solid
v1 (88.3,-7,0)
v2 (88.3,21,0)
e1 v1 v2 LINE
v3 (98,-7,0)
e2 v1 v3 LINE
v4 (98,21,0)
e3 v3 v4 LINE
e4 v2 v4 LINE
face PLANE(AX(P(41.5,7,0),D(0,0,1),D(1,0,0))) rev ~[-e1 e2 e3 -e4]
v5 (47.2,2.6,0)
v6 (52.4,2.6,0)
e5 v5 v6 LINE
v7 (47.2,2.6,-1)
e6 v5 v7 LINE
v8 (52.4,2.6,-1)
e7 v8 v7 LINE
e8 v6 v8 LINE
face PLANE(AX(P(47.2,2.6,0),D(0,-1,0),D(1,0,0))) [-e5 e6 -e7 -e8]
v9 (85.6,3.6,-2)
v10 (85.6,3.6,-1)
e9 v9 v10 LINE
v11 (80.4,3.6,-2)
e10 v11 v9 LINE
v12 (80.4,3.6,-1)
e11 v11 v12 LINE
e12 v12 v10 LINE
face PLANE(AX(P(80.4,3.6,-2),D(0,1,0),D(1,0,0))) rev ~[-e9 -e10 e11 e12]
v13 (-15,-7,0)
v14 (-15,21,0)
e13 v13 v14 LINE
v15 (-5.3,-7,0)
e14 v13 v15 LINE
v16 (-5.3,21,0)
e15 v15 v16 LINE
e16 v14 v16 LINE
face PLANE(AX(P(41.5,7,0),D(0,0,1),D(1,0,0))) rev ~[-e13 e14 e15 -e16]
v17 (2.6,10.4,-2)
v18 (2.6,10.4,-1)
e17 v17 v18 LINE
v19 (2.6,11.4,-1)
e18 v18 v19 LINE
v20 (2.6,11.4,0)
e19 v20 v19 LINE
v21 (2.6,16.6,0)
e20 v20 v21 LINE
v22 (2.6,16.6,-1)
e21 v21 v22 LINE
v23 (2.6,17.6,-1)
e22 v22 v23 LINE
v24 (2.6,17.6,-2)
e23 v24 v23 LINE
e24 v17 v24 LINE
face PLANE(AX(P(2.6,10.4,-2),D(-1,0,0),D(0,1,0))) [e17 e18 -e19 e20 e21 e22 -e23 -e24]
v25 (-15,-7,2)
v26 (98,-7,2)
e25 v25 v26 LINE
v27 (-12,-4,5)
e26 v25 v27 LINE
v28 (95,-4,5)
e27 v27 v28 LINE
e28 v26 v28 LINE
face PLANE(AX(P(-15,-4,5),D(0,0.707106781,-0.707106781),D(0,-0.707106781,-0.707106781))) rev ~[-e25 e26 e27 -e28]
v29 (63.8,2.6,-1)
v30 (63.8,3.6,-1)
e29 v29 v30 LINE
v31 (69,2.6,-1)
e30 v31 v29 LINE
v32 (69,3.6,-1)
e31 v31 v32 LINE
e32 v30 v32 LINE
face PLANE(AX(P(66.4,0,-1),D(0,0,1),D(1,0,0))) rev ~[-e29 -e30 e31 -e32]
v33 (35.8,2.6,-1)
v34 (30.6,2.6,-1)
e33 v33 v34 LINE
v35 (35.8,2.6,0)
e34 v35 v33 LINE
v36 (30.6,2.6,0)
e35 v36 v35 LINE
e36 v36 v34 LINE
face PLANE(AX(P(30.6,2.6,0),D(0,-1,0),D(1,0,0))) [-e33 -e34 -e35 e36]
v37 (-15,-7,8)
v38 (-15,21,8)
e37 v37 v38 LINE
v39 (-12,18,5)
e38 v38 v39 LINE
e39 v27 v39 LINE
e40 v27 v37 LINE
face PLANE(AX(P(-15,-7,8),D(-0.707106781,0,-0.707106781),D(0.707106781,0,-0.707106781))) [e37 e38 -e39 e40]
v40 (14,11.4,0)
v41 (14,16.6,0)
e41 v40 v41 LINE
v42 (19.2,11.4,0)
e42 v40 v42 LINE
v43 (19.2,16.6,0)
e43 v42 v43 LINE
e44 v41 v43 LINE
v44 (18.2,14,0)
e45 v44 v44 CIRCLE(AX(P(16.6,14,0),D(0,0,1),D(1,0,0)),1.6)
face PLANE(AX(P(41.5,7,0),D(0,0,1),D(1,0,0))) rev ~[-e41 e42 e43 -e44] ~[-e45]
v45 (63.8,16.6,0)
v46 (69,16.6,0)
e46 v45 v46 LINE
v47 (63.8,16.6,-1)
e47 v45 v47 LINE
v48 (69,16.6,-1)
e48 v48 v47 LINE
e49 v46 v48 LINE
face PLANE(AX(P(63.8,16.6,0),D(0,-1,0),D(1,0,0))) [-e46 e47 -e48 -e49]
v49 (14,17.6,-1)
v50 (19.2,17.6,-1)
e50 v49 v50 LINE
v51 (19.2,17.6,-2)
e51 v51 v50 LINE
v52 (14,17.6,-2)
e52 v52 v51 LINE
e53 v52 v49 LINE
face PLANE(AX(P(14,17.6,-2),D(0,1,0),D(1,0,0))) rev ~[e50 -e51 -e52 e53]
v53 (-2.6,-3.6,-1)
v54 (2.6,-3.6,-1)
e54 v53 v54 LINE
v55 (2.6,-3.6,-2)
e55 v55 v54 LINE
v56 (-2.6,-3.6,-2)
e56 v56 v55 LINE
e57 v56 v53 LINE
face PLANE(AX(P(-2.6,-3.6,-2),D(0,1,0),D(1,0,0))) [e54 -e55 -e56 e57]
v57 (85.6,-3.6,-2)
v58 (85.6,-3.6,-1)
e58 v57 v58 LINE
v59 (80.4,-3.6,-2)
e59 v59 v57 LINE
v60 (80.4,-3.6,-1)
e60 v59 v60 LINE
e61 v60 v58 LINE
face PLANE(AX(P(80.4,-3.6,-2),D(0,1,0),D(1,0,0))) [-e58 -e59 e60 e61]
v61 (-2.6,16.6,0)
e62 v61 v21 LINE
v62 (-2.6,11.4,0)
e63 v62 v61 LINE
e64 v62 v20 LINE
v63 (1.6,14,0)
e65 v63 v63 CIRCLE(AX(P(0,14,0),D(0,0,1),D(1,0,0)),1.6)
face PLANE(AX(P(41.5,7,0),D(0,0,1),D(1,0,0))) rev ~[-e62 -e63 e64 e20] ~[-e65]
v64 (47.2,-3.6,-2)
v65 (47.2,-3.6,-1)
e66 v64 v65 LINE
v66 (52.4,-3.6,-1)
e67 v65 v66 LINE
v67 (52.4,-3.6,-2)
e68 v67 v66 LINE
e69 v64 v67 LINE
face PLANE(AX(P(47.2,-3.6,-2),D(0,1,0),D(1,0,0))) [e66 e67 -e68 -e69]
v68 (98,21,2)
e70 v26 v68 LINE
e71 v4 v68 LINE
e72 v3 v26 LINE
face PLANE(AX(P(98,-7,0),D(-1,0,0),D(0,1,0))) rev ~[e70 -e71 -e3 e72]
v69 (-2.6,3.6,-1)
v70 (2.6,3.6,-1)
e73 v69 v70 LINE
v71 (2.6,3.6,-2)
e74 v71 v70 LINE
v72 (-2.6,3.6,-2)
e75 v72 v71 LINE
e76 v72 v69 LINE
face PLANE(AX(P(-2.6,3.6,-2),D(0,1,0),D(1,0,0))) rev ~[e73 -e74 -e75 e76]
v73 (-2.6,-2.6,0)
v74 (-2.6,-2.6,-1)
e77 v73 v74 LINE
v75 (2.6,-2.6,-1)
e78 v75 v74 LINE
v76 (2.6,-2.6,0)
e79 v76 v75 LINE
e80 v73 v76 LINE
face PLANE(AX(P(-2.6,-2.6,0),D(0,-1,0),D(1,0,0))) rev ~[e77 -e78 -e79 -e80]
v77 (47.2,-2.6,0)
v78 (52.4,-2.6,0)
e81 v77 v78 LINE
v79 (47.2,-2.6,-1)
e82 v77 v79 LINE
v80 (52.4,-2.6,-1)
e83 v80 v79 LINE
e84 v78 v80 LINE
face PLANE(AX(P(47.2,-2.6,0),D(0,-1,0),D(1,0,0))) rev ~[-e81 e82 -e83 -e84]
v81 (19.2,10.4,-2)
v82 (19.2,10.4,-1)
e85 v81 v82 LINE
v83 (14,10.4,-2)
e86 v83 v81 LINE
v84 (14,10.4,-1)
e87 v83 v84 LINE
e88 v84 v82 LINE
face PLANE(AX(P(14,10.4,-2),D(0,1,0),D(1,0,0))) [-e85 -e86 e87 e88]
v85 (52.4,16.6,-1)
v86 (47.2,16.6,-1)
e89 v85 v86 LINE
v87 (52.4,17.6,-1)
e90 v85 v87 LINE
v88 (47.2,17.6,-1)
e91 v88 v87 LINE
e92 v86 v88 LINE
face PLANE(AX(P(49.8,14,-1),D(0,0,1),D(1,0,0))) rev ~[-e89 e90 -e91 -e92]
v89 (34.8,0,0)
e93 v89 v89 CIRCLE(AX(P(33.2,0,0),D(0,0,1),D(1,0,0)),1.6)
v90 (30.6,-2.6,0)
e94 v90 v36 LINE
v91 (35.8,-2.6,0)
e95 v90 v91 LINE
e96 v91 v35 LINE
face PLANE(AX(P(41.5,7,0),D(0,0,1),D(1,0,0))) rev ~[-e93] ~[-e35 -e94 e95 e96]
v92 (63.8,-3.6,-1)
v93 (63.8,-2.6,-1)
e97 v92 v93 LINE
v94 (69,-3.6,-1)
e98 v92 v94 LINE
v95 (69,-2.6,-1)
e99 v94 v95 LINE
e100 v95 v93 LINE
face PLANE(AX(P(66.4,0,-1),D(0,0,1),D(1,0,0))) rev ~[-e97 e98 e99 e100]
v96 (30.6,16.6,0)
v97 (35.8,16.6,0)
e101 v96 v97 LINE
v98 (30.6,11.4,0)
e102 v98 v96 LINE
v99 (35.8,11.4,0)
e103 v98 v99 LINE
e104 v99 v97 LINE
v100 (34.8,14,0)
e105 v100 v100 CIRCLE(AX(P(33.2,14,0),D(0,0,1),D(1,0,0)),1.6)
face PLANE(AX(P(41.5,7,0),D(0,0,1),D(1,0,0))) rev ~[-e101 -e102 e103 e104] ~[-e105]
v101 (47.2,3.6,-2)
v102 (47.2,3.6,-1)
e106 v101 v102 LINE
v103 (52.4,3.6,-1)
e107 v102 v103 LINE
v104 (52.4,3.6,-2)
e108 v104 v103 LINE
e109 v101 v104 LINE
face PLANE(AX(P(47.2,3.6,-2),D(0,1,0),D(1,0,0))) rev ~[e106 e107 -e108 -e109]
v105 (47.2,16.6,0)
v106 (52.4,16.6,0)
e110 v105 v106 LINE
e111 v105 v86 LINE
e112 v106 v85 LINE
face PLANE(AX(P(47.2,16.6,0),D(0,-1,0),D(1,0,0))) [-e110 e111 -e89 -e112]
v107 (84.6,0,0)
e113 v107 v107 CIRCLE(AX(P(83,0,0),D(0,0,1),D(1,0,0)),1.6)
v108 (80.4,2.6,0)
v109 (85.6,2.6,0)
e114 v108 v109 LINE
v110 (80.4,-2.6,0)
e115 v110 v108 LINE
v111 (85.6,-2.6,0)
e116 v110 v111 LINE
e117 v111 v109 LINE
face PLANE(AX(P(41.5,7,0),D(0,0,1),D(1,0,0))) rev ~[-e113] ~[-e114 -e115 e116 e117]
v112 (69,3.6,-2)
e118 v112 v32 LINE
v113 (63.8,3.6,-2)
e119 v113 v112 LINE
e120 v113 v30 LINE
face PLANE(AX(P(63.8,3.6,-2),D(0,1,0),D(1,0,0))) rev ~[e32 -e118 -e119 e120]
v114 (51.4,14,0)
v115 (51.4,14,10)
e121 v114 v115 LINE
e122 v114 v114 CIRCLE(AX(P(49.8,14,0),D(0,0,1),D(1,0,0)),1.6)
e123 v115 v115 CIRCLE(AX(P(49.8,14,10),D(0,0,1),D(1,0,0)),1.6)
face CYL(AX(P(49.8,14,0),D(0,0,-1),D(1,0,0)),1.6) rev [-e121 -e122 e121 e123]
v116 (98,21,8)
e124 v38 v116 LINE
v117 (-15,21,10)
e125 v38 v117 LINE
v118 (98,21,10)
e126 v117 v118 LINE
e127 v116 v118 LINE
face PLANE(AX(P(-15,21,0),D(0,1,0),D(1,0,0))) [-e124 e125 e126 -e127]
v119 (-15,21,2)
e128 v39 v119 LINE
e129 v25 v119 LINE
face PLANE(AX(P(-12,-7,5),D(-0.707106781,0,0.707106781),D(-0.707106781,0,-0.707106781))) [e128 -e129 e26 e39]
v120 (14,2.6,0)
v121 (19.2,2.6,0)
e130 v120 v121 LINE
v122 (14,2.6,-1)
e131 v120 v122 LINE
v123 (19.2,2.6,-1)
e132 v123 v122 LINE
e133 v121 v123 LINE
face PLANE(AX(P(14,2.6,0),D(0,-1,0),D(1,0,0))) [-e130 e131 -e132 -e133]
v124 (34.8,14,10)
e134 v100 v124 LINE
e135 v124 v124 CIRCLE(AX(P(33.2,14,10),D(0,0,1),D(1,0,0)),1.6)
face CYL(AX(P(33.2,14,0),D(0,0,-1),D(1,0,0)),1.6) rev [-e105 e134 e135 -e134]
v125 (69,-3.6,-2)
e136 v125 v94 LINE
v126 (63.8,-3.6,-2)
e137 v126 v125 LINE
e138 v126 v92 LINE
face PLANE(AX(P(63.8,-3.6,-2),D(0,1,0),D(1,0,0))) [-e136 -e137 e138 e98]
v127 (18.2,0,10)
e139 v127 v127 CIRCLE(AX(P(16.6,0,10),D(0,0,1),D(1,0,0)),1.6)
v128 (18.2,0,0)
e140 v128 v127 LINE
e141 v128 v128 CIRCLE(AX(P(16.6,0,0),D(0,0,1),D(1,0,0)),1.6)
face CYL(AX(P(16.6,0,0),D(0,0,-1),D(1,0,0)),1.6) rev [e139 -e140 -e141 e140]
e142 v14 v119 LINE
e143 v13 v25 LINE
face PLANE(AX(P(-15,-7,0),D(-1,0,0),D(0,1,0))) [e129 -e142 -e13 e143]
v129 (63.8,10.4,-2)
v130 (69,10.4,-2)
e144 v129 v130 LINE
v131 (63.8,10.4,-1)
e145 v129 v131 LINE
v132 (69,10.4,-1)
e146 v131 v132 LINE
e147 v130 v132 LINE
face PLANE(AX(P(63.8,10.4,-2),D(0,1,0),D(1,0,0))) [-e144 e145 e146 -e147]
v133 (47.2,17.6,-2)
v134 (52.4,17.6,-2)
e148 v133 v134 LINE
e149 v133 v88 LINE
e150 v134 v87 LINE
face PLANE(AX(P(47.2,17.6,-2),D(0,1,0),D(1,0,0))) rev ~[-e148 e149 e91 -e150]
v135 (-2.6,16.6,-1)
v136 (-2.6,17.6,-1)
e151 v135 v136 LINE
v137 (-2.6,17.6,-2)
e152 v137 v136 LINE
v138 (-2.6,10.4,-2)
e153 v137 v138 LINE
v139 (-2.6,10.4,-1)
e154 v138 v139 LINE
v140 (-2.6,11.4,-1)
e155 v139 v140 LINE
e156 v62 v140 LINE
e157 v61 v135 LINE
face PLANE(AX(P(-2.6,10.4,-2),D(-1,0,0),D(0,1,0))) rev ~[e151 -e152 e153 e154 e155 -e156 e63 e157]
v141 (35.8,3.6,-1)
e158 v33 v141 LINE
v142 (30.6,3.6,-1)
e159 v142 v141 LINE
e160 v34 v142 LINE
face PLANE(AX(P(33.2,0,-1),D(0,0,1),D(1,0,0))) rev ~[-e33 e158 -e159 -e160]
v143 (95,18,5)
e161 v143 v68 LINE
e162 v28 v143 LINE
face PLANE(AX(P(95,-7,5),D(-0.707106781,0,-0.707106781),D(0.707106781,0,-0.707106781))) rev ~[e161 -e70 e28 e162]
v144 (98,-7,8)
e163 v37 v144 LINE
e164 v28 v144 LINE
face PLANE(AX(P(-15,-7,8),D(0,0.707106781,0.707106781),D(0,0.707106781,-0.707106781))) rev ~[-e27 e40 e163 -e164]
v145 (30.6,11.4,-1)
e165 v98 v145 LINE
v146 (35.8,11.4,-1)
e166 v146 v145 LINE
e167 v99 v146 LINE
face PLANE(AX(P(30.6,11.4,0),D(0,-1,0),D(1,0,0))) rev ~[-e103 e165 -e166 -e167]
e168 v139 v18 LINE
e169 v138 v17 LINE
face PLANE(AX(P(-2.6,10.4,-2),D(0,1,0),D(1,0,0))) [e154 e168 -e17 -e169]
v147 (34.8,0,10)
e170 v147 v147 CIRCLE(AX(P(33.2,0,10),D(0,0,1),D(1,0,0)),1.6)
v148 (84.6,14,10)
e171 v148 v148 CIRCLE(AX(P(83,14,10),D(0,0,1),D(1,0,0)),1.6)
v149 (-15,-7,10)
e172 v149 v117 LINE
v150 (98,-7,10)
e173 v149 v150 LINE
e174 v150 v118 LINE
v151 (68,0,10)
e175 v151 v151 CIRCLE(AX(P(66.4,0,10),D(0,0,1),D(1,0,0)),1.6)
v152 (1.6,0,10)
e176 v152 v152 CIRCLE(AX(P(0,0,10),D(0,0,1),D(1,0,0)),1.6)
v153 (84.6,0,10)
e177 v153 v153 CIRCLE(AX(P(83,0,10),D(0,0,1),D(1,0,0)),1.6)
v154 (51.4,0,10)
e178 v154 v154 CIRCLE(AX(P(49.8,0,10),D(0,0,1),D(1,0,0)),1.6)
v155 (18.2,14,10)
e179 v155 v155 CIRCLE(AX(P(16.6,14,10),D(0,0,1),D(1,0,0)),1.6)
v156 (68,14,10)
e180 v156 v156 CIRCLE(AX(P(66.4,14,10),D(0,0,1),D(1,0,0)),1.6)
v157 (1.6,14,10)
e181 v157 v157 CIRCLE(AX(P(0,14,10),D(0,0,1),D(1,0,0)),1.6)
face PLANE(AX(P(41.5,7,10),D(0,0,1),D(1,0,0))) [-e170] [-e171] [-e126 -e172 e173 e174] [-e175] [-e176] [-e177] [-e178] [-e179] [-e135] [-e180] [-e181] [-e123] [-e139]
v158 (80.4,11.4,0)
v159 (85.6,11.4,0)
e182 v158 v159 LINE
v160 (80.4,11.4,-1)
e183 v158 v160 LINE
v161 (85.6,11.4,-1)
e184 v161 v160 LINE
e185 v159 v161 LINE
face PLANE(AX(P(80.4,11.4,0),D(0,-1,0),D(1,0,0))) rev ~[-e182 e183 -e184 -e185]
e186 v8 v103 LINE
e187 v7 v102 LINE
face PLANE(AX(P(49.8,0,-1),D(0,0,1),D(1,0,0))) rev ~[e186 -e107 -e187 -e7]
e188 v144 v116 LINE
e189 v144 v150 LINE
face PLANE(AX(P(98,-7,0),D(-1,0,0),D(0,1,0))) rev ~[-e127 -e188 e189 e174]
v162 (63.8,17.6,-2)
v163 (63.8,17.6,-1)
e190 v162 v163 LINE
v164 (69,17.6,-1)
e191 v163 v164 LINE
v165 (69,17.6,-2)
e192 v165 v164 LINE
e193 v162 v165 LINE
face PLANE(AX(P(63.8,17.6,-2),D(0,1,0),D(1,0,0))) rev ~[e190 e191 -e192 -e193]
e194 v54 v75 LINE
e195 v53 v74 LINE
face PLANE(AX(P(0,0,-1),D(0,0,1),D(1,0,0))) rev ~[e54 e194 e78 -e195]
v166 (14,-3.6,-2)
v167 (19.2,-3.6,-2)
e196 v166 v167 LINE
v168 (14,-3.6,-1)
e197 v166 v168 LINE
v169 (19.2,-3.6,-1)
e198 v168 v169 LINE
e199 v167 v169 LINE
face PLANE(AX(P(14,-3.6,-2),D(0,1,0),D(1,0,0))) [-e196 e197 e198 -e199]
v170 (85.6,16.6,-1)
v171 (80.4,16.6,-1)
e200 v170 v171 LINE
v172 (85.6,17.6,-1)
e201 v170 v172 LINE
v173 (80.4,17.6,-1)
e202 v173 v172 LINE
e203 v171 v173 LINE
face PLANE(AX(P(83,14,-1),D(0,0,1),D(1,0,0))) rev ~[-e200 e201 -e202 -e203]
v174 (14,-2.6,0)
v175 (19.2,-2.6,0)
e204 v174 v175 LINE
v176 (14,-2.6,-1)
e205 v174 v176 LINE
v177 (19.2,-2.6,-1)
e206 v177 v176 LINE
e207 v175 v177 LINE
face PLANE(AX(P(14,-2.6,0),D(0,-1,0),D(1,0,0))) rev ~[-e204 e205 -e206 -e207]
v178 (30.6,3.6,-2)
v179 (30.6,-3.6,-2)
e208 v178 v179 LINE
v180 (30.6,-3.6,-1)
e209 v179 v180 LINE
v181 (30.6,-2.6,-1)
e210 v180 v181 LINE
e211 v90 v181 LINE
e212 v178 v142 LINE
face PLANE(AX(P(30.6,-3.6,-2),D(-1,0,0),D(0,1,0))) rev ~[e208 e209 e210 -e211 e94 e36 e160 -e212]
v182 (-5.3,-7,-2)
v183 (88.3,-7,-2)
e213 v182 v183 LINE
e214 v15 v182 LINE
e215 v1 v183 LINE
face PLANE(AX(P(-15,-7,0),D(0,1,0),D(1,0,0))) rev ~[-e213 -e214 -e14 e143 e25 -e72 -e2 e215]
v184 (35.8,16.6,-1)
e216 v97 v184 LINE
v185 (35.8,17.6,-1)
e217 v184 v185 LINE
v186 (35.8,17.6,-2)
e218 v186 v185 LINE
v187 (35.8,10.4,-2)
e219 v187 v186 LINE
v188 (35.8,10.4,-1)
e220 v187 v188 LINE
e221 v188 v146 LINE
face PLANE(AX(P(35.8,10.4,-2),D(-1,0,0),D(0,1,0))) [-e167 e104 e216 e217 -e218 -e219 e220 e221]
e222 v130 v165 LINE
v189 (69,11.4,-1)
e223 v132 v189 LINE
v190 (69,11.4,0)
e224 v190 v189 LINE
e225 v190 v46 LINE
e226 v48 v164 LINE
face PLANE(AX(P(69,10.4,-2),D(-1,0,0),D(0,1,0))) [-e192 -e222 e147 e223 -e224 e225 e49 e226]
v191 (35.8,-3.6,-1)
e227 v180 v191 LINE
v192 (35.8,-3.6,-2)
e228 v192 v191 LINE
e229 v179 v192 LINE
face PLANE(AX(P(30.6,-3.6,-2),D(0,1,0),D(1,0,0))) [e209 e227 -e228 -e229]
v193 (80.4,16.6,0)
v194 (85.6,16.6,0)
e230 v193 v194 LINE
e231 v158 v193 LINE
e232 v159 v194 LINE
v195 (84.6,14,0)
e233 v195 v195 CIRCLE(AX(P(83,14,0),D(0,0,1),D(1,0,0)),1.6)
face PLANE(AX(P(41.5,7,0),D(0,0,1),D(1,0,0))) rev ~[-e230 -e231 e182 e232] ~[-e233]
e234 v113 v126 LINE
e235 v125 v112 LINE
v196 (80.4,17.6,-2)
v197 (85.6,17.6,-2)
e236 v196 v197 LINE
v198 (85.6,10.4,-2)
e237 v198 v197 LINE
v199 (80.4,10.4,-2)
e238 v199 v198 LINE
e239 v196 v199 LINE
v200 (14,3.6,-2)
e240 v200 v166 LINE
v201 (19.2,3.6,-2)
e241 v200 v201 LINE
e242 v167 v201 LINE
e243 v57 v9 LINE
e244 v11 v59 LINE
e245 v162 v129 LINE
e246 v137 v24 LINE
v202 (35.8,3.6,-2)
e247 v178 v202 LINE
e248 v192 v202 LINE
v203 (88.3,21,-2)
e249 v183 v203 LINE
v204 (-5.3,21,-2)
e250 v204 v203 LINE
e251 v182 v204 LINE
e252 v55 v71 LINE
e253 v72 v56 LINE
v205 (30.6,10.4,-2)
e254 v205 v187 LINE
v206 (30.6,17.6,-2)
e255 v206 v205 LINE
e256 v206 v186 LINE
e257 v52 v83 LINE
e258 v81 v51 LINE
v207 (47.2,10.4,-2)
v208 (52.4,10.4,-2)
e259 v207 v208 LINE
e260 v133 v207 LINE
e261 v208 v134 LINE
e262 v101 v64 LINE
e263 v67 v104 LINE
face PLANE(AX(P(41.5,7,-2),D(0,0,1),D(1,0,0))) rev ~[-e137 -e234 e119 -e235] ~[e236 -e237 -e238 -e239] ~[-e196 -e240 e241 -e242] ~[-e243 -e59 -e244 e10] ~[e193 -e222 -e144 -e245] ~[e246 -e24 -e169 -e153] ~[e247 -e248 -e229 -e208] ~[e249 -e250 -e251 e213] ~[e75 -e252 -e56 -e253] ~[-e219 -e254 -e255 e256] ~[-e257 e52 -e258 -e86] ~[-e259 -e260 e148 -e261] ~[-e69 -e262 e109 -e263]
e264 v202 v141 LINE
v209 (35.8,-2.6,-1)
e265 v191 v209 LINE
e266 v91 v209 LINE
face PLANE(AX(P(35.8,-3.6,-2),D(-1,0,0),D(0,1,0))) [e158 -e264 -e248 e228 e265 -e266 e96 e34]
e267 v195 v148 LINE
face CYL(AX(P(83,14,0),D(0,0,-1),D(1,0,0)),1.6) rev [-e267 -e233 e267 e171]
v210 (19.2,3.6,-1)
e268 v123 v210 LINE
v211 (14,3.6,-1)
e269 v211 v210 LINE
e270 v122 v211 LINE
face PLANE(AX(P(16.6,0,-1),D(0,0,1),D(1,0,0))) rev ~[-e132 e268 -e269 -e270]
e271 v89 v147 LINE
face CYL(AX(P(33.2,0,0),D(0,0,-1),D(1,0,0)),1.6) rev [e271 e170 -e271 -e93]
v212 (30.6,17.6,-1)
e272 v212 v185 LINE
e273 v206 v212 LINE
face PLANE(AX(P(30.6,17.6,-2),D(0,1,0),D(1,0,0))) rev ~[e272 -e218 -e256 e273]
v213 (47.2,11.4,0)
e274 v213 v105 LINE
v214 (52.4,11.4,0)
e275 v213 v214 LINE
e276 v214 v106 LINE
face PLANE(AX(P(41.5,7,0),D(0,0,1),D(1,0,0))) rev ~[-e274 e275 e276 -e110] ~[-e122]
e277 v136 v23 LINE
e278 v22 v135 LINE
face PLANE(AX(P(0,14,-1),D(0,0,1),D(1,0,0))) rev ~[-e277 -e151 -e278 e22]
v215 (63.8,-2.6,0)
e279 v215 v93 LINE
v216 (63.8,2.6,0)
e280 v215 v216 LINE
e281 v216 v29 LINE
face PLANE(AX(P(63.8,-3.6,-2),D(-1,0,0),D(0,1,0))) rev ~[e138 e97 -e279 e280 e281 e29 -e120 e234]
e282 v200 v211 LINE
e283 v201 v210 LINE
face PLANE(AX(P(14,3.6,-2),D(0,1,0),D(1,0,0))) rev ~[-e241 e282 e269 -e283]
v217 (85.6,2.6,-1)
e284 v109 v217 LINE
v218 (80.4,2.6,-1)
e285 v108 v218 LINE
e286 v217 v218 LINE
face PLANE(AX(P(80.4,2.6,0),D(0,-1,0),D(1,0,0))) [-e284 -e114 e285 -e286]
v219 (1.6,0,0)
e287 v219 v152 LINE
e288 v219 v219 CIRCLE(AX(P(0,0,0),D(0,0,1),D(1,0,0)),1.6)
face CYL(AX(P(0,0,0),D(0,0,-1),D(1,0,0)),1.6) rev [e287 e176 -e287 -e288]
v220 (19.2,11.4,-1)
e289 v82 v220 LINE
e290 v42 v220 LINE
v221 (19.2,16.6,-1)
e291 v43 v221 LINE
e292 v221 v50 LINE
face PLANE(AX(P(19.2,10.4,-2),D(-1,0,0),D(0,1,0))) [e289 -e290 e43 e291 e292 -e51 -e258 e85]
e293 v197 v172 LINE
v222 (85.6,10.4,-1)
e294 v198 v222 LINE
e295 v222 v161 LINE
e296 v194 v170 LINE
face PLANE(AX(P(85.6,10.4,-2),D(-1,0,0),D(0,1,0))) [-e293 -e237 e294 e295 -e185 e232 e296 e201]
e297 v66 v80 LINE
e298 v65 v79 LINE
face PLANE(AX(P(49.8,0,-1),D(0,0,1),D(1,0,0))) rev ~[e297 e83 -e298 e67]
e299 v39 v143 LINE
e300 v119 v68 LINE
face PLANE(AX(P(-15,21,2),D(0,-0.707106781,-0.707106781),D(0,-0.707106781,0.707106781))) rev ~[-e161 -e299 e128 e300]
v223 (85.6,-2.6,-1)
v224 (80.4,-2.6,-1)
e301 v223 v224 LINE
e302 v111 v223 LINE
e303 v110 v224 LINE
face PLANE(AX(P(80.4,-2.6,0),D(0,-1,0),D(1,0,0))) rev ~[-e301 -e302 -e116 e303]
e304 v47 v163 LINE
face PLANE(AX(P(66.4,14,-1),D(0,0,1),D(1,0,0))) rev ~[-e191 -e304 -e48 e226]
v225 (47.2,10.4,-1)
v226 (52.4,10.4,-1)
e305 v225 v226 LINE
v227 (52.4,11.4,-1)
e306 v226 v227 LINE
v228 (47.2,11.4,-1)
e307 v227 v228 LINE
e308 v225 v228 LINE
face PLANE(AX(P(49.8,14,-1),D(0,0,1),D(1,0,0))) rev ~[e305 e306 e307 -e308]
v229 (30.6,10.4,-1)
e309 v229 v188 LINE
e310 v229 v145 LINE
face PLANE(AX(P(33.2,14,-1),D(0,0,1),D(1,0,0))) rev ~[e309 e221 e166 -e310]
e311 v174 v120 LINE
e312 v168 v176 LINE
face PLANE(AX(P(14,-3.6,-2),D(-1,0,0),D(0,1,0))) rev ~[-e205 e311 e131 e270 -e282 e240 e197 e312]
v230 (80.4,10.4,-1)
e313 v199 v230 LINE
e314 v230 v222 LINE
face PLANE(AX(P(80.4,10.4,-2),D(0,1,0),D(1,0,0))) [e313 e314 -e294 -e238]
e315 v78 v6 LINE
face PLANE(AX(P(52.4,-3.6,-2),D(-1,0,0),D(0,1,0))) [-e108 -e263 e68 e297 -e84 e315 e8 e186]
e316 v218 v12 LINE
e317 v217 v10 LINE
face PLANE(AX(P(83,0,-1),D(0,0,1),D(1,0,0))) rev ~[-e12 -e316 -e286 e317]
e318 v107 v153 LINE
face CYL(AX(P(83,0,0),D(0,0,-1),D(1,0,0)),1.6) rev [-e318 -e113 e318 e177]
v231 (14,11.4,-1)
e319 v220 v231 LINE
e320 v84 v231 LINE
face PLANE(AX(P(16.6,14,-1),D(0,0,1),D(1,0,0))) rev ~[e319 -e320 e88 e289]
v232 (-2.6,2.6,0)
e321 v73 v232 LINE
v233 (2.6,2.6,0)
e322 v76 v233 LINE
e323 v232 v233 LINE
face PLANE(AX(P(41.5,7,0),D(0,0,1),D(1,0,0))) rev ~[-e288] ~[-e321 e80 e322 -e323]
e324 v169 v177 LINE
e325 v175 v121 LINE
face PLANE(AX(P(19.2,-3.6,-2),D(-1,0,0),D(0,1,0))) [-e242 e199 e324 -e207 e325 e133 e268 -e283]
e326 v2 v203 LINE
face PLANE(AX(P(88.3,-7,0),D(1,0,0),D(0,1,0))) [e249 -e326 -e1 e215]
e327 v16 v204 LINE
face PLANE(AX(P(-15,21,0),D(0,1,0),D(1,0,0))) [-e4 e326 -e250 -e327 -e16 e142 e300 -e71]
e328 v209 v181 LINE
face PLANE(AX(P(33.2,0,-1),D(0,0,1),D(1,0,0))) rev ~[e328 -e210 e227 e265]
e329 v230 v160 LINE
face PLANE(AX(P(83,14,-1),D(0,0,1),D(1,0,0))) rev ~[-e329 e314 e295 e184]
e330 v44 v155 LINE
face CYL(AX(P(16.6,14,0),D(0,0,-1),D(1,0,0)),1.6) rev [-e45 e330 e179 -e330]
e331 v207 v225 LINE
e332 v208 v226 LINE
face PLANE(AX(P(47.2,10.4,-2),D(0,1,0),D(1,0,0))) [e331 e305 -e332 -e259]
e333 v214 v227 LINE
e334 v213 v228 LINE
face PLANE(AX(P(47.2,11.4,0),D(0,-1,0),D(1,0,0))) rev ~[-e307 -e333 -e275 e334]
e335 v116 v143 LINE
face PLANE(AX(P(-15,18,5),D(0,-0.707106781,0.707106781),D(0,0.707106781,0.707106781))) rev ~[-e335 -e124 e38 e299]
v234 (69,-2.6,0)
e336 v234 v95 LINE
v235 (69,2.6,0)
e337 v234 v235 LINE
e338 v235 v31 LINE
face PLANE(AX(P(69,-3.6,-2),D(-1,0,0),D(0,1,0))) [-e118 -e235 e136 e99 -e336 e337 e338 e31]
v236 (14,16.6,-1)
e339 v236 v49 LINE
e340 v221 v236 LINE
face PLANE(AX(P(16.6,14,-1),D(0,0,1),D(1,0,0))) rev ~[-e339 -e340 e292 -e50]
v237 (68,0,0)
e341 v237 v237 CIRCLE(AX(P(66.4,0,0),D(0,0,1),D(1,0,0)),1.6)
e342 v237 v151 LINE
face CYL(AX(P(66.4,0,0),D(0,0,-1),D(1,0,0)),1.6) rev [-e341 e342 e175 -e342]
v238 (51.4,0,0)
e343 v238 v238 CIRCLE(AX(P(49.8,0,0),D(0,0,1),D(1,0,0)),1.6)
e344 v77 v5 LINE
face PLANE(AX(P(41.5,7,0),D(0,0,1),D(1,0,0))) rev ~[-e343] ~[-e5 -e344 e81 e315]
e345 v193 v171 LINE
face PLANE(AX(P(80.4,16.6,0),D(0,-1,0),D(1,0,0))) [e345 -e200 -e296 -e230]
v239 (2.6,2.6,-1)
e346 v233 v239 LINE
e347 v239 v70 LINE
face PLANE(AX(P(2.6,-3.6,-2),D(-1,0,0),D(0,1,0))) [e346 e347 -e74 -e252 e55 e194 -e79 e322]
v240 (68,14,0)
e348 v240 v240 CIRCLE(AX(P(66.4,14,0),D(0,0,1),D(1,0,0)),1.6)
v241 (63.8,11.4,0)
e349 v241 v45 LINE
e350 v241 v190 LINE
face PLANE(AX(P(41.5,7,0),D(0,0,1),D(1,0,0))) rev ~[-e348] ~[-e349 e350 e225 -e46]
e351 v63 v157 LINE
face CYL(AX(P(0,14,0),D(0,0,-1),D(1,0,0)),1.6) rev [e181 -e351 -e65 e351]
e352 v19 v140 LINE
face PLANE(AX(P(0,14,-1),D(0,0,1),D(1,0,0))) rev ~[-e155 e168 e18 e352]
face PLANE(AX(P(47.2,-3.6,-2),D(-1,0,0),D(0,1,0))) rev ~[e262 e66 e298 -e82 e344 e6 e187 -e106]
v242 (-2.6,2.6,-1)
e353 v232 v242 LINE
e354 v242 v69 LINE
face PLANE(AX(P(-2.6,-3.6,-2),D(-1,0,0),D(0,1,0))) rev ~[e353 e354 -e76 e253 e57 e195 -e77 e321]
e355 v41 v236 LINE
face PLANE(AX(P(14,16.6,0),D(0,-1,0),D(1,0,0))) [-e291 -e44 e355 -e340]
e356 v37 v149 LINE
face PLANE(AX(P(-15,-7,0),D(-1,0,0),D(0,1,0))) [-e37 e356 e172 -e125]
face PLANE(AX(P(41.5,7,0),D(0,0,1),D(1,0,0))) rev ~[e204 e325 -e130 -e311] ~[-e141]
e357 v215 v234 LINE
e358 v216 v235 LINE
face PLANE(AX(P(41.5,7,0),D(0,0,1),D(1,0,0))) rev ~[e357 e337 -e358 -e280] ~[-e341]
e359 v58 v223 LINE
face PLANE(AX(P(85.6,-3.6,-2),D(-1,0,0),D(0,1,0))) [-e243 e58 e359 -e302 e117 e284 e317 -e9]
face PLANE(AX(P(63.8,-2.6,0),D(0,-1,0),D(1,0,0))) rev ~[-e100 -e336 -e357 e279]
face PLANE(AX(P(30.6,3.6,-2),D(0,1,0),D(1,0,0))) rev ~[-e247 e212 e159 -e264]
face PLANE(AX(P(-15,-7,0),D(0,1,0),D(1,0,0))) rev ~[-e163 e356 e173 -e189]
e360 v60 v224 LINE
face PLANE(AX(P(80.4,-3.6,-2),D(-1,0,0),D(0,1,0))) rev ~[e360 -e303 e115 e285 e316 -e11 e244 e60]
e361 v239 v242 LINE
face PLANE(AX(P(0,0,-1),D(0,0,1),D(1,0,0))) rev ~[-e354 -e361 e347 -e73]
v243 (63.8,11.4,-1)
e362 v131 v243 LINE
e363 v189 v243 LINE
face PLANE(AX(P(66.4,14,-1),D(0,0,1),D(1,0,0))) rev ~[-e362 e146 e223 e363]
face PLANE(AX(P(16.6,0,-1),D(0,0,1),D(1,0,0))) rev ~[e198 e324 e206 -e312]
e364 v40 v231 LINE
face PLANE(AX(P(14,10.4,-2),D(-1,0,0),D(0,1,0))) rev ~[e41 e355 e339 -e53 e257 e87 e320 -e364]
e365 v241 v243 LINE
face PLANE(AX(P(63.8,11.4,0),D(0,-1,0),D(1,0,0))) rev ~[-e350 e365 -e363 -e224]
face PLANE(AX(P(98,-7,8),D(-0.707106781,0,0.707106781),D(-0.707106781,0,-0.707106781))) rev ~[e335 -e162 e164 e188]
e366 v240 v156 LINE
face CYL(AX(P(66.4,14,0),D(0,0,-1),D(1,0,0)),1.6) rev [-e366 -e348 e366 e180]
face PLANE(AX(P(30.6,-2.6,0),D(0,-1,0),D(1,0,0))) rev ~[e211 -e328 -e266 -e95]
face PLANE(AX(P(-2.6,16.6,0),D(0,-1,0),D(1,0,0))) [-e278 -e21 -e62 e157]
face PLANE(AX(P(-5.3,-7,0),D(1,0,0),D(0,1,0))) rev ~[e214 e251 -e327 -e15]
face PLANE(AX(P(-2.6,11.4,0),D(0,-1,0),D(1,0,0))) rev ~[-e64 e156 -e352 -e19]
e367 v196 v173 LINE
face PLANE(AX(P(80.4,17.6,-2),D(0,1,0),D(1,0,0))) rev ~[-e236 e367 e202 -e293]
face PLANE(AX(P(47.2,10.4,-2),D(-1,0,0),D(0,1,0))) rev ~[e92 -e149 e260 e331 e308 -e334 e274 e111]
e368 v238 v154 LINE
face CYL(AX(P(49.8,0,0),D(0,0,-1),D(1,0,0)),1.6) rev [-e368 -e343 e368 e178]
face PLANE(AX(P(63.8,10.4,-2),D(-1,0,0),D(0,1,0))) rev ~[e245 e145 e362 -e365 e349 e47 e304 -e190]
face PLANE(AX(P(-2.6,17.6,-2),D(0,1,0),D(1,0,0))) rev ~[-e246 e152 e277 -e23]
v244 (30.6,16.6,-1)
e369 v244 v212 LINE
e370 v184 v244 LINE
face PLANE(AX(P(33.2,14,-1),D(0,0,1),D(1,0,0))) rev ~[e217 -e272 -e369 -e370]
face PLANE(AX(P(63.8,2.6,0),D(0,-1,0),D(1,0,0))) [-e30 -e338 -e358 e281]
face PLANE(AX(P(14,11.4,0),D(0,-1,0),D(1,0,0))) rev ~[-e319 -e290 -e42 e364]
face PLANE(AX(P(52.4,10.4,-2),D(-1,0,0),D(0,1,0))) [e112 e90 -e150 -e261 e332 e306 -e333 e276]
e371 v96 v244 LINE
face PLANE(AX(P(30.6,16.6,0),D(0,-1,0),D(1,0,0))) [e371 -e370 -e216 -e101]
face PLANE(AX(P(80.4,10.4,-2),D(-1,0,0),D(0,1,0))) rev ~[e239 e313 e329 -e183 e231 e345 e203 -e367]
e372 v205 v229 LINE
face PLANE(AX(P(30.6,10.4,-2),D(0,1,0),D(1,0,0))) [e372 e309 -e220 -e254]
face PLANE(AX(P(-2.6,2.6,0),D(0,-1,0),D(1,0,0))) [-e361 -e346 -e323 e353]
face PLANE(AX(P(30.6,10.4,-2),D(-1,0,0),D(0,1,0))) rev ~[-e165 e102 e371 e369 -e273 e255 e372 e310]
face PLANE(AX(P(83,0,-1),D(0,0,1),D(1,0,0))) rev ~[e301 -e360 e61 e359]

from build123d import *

# Parameters (mm, degrees)
SKETCH_W        = 113
SKETCH_H        = 28
SKETCH_R        = 1.6
PAD_DEPTH       = 10
SKETCH001_W     = 93.6
SKETCH001_H     = 28
SKETCH001_W_2   = 5.2
SKETCH001_H_2   = 5.2
PAD001_DEPTH    = 2
POCKET_DEPTH    = 113.001
SKETCH003_W     = 5.2
SKETCH003_H     = 7.2
POCKET001_DEPTH = 1
POCKET002_DEPTH = 28.001


with BuildPart() as part:
    # Sketch → Pad (new body)
    with BuildSketch(Plane.XY):
        with Locations((41.5, 7)):
            Rectangle(SKETCH_W, SKETCH_H)
        Circle(SKETCH_R, mode=Mode.SUBTRACT)
        with Locations((0, 14)):
            Circle(SKETCH_R, mode=Mode.SUBTRACT)
        with Locations((16.6, 0)):
            Circle(SKETCH_R, mode=Mode.SUBTRACT)
        with Locations((16.6, 14)):
            Circle(SKETCH_R, mode=Mode.SUBTRACT)
        with Locations((33.2, 0)):
            Circle(SKETCH_R, mode=Mode.SUBTRACT)
        with Locations((33.2, 14)):
            Circle(SKETCH_R, mode=Mode.SUBTRACT)
        with Locations((49.8, 0)):
            Circle(SKETCH_R, mode=Mode.SUBTRACT)
        with Locations((49.8, 14)):
            Circle(SKETCH_R, mode=Mode.SUBTRACT)
        with Locations((66.4, 0)):
            Circle(SKETCH_R, mode=Mode.SUBTRACT)
        with Locations((66.4, 14)):
            Circle(SKETCH_R, mode=Mode.SUBTRACT)
        with Locations((83, 0)):
            Circle(SKETCH_R, mode=Mode.SUBTRACT)
        with Locations((83, 14)):
            Circle(SKETCH_R, mode=Mode.SUBTRACT)
    extrude(amount=PAD_DEPTH)

    # Sketch001 → Pad001 (join)
    with BuildSketch(Plane.XY):
        with Locations((41.5, 7)):
            Rectangle(SKETCH001_W, SKETCH001_H)
        Rectangle(SKETCH001_W_2, SKETCH001_H_2, mode=Mode.SUBTRACT)
        with Locations((0, 14)):
            Rectangle(SKETCH001_W_2, SKETCH001_H_2, mode=Mode.SUBTRACT)
        with Locations((16.6, 0)):
            Rectangle(SKETCH001_W_2, SKETCH001_H_2, mode=Mode.SUBTRACT)
        with Locations((16.6, 14)):
            Rectangle(SKETCH001_W_2, SKETCH001_H_2, mode=Mode.SUBTRACT)
        with Locations((33.2, 0)):
            Rectangle(SKETCH001_W_2, SKETCH001_H_2, mode=Mode.SUBTRACT)
        with Locations((33.2, 14)):
            Rectangle(SKETCH001_W_2, SKETCH001_H_2, mode=Mode.SUBTRACT)
        with Locations((49.8, 0)):
            Rectangle(SKETCH001_W_2, SKETCH001_H_2, mode=Mode.SUBTRACT)
        with Locations((49.8, 14)):
            Rectangle(SKETCH001_W_2, SKETCH001_H_2, mode=Mode.SUBTRACT)
        with Locations((66.4, 0)):
            Rectangle(SKETCH001_W_2, SKETCH001_H_2, mode=Mode.SUBTRACT)
        with Locations((66.4, 14)):
            Rectangle(SKETCH001_W_2, SKETCH001_H_2, mode=Mode.SUBTRACT)
        with Locations((83, 0)):
            Rectangle(SKETCH001_W_2, SKETCH001_H_2, mode=Mode.SUBTRACT)
        with Locations((83, 14)):
            Rectangle(SKETCH001_W_2, SKETCH001_H_2, mode=Mode.SUBTRACT)
    extrude(amount=-PAD001_DEPTH)

    # Sketch002 (on Face2 of Pad001) → Pocket (cut, through all)
    with BuildSketch(Plane(origin=(-15, 0, 0), x_dir=(0, -1, 0), z_dir=(-1, 0, 0))):
        Polygon((-21, 8), (-21, 2), (-18, 5), align=None)
        Polygon((7, 2), (7, 8), (4, 5), align=None)
    extrude(amount=-POCKET_DEPTH, mode=Mode.SUBTRACT)

    # Sketch003 → Pocket001 (cut)
    with BuildSketch(Plane.XY.offset(-2)):
        Rectangle(SKETCH003_W, SKETCH003_H)
        with Locations((0, 14)):
            Rectangle(SKETCH003_W, SKETCH003_H)
        with Locations((16.6, 0)):
            Rectangle(SKETCH003_W, SKETCH003_H)
        with Locations((16.6, 14)):
            Rectangle(SKETCH003_W, SKETCH003_H)
        with Locations((33.2, 0)):
            Rectangle(SKETCH003_W, SKETCH003_H)
        with Locations((33.2, 14)):
            Rectangle(SKETCH003_W, SKETCH003_H)
        with Locations((49.8, 0)):
            Rectangle(SKETCH003_W, SKETCH003_H)
        with Locations((49.8, 14)):
            Rectangle(SKETCH003_W, SKETCH003_H)
        with Locations((66.4, 0)):
            Rectangle(SKETCH003_W, SKETCH003_H)
        with Locations((66.4, 14)):
            Rectangle(SKETCH003_W, SKETCH003_H)
        with Locations((83, 0)):
            Rectangle(SKETCH003_W, SKETCH003_H)
        with Locations((83, 14)):
            Rectangle(SKETCH003_W, SKETCH003_H)
    extrude(amount=POCKET001_DEPTH, mode=Mode.SUBTRACT)

    # Sketch004 (on Face16 of Pocket001) → Pocket002 (cut, through all)
    with BuildSketch(Plane.XZ.offset(7)):
        Polygon((98, 8), (95, 5), (98, 2), align=None)
        Polygon((-15, 8), (-12, 5), (-15, 2), align=None)
    extrude(amount=-POCKET002_DEPTH, mode=Mode.SUBTRACT)


solid = part.part
